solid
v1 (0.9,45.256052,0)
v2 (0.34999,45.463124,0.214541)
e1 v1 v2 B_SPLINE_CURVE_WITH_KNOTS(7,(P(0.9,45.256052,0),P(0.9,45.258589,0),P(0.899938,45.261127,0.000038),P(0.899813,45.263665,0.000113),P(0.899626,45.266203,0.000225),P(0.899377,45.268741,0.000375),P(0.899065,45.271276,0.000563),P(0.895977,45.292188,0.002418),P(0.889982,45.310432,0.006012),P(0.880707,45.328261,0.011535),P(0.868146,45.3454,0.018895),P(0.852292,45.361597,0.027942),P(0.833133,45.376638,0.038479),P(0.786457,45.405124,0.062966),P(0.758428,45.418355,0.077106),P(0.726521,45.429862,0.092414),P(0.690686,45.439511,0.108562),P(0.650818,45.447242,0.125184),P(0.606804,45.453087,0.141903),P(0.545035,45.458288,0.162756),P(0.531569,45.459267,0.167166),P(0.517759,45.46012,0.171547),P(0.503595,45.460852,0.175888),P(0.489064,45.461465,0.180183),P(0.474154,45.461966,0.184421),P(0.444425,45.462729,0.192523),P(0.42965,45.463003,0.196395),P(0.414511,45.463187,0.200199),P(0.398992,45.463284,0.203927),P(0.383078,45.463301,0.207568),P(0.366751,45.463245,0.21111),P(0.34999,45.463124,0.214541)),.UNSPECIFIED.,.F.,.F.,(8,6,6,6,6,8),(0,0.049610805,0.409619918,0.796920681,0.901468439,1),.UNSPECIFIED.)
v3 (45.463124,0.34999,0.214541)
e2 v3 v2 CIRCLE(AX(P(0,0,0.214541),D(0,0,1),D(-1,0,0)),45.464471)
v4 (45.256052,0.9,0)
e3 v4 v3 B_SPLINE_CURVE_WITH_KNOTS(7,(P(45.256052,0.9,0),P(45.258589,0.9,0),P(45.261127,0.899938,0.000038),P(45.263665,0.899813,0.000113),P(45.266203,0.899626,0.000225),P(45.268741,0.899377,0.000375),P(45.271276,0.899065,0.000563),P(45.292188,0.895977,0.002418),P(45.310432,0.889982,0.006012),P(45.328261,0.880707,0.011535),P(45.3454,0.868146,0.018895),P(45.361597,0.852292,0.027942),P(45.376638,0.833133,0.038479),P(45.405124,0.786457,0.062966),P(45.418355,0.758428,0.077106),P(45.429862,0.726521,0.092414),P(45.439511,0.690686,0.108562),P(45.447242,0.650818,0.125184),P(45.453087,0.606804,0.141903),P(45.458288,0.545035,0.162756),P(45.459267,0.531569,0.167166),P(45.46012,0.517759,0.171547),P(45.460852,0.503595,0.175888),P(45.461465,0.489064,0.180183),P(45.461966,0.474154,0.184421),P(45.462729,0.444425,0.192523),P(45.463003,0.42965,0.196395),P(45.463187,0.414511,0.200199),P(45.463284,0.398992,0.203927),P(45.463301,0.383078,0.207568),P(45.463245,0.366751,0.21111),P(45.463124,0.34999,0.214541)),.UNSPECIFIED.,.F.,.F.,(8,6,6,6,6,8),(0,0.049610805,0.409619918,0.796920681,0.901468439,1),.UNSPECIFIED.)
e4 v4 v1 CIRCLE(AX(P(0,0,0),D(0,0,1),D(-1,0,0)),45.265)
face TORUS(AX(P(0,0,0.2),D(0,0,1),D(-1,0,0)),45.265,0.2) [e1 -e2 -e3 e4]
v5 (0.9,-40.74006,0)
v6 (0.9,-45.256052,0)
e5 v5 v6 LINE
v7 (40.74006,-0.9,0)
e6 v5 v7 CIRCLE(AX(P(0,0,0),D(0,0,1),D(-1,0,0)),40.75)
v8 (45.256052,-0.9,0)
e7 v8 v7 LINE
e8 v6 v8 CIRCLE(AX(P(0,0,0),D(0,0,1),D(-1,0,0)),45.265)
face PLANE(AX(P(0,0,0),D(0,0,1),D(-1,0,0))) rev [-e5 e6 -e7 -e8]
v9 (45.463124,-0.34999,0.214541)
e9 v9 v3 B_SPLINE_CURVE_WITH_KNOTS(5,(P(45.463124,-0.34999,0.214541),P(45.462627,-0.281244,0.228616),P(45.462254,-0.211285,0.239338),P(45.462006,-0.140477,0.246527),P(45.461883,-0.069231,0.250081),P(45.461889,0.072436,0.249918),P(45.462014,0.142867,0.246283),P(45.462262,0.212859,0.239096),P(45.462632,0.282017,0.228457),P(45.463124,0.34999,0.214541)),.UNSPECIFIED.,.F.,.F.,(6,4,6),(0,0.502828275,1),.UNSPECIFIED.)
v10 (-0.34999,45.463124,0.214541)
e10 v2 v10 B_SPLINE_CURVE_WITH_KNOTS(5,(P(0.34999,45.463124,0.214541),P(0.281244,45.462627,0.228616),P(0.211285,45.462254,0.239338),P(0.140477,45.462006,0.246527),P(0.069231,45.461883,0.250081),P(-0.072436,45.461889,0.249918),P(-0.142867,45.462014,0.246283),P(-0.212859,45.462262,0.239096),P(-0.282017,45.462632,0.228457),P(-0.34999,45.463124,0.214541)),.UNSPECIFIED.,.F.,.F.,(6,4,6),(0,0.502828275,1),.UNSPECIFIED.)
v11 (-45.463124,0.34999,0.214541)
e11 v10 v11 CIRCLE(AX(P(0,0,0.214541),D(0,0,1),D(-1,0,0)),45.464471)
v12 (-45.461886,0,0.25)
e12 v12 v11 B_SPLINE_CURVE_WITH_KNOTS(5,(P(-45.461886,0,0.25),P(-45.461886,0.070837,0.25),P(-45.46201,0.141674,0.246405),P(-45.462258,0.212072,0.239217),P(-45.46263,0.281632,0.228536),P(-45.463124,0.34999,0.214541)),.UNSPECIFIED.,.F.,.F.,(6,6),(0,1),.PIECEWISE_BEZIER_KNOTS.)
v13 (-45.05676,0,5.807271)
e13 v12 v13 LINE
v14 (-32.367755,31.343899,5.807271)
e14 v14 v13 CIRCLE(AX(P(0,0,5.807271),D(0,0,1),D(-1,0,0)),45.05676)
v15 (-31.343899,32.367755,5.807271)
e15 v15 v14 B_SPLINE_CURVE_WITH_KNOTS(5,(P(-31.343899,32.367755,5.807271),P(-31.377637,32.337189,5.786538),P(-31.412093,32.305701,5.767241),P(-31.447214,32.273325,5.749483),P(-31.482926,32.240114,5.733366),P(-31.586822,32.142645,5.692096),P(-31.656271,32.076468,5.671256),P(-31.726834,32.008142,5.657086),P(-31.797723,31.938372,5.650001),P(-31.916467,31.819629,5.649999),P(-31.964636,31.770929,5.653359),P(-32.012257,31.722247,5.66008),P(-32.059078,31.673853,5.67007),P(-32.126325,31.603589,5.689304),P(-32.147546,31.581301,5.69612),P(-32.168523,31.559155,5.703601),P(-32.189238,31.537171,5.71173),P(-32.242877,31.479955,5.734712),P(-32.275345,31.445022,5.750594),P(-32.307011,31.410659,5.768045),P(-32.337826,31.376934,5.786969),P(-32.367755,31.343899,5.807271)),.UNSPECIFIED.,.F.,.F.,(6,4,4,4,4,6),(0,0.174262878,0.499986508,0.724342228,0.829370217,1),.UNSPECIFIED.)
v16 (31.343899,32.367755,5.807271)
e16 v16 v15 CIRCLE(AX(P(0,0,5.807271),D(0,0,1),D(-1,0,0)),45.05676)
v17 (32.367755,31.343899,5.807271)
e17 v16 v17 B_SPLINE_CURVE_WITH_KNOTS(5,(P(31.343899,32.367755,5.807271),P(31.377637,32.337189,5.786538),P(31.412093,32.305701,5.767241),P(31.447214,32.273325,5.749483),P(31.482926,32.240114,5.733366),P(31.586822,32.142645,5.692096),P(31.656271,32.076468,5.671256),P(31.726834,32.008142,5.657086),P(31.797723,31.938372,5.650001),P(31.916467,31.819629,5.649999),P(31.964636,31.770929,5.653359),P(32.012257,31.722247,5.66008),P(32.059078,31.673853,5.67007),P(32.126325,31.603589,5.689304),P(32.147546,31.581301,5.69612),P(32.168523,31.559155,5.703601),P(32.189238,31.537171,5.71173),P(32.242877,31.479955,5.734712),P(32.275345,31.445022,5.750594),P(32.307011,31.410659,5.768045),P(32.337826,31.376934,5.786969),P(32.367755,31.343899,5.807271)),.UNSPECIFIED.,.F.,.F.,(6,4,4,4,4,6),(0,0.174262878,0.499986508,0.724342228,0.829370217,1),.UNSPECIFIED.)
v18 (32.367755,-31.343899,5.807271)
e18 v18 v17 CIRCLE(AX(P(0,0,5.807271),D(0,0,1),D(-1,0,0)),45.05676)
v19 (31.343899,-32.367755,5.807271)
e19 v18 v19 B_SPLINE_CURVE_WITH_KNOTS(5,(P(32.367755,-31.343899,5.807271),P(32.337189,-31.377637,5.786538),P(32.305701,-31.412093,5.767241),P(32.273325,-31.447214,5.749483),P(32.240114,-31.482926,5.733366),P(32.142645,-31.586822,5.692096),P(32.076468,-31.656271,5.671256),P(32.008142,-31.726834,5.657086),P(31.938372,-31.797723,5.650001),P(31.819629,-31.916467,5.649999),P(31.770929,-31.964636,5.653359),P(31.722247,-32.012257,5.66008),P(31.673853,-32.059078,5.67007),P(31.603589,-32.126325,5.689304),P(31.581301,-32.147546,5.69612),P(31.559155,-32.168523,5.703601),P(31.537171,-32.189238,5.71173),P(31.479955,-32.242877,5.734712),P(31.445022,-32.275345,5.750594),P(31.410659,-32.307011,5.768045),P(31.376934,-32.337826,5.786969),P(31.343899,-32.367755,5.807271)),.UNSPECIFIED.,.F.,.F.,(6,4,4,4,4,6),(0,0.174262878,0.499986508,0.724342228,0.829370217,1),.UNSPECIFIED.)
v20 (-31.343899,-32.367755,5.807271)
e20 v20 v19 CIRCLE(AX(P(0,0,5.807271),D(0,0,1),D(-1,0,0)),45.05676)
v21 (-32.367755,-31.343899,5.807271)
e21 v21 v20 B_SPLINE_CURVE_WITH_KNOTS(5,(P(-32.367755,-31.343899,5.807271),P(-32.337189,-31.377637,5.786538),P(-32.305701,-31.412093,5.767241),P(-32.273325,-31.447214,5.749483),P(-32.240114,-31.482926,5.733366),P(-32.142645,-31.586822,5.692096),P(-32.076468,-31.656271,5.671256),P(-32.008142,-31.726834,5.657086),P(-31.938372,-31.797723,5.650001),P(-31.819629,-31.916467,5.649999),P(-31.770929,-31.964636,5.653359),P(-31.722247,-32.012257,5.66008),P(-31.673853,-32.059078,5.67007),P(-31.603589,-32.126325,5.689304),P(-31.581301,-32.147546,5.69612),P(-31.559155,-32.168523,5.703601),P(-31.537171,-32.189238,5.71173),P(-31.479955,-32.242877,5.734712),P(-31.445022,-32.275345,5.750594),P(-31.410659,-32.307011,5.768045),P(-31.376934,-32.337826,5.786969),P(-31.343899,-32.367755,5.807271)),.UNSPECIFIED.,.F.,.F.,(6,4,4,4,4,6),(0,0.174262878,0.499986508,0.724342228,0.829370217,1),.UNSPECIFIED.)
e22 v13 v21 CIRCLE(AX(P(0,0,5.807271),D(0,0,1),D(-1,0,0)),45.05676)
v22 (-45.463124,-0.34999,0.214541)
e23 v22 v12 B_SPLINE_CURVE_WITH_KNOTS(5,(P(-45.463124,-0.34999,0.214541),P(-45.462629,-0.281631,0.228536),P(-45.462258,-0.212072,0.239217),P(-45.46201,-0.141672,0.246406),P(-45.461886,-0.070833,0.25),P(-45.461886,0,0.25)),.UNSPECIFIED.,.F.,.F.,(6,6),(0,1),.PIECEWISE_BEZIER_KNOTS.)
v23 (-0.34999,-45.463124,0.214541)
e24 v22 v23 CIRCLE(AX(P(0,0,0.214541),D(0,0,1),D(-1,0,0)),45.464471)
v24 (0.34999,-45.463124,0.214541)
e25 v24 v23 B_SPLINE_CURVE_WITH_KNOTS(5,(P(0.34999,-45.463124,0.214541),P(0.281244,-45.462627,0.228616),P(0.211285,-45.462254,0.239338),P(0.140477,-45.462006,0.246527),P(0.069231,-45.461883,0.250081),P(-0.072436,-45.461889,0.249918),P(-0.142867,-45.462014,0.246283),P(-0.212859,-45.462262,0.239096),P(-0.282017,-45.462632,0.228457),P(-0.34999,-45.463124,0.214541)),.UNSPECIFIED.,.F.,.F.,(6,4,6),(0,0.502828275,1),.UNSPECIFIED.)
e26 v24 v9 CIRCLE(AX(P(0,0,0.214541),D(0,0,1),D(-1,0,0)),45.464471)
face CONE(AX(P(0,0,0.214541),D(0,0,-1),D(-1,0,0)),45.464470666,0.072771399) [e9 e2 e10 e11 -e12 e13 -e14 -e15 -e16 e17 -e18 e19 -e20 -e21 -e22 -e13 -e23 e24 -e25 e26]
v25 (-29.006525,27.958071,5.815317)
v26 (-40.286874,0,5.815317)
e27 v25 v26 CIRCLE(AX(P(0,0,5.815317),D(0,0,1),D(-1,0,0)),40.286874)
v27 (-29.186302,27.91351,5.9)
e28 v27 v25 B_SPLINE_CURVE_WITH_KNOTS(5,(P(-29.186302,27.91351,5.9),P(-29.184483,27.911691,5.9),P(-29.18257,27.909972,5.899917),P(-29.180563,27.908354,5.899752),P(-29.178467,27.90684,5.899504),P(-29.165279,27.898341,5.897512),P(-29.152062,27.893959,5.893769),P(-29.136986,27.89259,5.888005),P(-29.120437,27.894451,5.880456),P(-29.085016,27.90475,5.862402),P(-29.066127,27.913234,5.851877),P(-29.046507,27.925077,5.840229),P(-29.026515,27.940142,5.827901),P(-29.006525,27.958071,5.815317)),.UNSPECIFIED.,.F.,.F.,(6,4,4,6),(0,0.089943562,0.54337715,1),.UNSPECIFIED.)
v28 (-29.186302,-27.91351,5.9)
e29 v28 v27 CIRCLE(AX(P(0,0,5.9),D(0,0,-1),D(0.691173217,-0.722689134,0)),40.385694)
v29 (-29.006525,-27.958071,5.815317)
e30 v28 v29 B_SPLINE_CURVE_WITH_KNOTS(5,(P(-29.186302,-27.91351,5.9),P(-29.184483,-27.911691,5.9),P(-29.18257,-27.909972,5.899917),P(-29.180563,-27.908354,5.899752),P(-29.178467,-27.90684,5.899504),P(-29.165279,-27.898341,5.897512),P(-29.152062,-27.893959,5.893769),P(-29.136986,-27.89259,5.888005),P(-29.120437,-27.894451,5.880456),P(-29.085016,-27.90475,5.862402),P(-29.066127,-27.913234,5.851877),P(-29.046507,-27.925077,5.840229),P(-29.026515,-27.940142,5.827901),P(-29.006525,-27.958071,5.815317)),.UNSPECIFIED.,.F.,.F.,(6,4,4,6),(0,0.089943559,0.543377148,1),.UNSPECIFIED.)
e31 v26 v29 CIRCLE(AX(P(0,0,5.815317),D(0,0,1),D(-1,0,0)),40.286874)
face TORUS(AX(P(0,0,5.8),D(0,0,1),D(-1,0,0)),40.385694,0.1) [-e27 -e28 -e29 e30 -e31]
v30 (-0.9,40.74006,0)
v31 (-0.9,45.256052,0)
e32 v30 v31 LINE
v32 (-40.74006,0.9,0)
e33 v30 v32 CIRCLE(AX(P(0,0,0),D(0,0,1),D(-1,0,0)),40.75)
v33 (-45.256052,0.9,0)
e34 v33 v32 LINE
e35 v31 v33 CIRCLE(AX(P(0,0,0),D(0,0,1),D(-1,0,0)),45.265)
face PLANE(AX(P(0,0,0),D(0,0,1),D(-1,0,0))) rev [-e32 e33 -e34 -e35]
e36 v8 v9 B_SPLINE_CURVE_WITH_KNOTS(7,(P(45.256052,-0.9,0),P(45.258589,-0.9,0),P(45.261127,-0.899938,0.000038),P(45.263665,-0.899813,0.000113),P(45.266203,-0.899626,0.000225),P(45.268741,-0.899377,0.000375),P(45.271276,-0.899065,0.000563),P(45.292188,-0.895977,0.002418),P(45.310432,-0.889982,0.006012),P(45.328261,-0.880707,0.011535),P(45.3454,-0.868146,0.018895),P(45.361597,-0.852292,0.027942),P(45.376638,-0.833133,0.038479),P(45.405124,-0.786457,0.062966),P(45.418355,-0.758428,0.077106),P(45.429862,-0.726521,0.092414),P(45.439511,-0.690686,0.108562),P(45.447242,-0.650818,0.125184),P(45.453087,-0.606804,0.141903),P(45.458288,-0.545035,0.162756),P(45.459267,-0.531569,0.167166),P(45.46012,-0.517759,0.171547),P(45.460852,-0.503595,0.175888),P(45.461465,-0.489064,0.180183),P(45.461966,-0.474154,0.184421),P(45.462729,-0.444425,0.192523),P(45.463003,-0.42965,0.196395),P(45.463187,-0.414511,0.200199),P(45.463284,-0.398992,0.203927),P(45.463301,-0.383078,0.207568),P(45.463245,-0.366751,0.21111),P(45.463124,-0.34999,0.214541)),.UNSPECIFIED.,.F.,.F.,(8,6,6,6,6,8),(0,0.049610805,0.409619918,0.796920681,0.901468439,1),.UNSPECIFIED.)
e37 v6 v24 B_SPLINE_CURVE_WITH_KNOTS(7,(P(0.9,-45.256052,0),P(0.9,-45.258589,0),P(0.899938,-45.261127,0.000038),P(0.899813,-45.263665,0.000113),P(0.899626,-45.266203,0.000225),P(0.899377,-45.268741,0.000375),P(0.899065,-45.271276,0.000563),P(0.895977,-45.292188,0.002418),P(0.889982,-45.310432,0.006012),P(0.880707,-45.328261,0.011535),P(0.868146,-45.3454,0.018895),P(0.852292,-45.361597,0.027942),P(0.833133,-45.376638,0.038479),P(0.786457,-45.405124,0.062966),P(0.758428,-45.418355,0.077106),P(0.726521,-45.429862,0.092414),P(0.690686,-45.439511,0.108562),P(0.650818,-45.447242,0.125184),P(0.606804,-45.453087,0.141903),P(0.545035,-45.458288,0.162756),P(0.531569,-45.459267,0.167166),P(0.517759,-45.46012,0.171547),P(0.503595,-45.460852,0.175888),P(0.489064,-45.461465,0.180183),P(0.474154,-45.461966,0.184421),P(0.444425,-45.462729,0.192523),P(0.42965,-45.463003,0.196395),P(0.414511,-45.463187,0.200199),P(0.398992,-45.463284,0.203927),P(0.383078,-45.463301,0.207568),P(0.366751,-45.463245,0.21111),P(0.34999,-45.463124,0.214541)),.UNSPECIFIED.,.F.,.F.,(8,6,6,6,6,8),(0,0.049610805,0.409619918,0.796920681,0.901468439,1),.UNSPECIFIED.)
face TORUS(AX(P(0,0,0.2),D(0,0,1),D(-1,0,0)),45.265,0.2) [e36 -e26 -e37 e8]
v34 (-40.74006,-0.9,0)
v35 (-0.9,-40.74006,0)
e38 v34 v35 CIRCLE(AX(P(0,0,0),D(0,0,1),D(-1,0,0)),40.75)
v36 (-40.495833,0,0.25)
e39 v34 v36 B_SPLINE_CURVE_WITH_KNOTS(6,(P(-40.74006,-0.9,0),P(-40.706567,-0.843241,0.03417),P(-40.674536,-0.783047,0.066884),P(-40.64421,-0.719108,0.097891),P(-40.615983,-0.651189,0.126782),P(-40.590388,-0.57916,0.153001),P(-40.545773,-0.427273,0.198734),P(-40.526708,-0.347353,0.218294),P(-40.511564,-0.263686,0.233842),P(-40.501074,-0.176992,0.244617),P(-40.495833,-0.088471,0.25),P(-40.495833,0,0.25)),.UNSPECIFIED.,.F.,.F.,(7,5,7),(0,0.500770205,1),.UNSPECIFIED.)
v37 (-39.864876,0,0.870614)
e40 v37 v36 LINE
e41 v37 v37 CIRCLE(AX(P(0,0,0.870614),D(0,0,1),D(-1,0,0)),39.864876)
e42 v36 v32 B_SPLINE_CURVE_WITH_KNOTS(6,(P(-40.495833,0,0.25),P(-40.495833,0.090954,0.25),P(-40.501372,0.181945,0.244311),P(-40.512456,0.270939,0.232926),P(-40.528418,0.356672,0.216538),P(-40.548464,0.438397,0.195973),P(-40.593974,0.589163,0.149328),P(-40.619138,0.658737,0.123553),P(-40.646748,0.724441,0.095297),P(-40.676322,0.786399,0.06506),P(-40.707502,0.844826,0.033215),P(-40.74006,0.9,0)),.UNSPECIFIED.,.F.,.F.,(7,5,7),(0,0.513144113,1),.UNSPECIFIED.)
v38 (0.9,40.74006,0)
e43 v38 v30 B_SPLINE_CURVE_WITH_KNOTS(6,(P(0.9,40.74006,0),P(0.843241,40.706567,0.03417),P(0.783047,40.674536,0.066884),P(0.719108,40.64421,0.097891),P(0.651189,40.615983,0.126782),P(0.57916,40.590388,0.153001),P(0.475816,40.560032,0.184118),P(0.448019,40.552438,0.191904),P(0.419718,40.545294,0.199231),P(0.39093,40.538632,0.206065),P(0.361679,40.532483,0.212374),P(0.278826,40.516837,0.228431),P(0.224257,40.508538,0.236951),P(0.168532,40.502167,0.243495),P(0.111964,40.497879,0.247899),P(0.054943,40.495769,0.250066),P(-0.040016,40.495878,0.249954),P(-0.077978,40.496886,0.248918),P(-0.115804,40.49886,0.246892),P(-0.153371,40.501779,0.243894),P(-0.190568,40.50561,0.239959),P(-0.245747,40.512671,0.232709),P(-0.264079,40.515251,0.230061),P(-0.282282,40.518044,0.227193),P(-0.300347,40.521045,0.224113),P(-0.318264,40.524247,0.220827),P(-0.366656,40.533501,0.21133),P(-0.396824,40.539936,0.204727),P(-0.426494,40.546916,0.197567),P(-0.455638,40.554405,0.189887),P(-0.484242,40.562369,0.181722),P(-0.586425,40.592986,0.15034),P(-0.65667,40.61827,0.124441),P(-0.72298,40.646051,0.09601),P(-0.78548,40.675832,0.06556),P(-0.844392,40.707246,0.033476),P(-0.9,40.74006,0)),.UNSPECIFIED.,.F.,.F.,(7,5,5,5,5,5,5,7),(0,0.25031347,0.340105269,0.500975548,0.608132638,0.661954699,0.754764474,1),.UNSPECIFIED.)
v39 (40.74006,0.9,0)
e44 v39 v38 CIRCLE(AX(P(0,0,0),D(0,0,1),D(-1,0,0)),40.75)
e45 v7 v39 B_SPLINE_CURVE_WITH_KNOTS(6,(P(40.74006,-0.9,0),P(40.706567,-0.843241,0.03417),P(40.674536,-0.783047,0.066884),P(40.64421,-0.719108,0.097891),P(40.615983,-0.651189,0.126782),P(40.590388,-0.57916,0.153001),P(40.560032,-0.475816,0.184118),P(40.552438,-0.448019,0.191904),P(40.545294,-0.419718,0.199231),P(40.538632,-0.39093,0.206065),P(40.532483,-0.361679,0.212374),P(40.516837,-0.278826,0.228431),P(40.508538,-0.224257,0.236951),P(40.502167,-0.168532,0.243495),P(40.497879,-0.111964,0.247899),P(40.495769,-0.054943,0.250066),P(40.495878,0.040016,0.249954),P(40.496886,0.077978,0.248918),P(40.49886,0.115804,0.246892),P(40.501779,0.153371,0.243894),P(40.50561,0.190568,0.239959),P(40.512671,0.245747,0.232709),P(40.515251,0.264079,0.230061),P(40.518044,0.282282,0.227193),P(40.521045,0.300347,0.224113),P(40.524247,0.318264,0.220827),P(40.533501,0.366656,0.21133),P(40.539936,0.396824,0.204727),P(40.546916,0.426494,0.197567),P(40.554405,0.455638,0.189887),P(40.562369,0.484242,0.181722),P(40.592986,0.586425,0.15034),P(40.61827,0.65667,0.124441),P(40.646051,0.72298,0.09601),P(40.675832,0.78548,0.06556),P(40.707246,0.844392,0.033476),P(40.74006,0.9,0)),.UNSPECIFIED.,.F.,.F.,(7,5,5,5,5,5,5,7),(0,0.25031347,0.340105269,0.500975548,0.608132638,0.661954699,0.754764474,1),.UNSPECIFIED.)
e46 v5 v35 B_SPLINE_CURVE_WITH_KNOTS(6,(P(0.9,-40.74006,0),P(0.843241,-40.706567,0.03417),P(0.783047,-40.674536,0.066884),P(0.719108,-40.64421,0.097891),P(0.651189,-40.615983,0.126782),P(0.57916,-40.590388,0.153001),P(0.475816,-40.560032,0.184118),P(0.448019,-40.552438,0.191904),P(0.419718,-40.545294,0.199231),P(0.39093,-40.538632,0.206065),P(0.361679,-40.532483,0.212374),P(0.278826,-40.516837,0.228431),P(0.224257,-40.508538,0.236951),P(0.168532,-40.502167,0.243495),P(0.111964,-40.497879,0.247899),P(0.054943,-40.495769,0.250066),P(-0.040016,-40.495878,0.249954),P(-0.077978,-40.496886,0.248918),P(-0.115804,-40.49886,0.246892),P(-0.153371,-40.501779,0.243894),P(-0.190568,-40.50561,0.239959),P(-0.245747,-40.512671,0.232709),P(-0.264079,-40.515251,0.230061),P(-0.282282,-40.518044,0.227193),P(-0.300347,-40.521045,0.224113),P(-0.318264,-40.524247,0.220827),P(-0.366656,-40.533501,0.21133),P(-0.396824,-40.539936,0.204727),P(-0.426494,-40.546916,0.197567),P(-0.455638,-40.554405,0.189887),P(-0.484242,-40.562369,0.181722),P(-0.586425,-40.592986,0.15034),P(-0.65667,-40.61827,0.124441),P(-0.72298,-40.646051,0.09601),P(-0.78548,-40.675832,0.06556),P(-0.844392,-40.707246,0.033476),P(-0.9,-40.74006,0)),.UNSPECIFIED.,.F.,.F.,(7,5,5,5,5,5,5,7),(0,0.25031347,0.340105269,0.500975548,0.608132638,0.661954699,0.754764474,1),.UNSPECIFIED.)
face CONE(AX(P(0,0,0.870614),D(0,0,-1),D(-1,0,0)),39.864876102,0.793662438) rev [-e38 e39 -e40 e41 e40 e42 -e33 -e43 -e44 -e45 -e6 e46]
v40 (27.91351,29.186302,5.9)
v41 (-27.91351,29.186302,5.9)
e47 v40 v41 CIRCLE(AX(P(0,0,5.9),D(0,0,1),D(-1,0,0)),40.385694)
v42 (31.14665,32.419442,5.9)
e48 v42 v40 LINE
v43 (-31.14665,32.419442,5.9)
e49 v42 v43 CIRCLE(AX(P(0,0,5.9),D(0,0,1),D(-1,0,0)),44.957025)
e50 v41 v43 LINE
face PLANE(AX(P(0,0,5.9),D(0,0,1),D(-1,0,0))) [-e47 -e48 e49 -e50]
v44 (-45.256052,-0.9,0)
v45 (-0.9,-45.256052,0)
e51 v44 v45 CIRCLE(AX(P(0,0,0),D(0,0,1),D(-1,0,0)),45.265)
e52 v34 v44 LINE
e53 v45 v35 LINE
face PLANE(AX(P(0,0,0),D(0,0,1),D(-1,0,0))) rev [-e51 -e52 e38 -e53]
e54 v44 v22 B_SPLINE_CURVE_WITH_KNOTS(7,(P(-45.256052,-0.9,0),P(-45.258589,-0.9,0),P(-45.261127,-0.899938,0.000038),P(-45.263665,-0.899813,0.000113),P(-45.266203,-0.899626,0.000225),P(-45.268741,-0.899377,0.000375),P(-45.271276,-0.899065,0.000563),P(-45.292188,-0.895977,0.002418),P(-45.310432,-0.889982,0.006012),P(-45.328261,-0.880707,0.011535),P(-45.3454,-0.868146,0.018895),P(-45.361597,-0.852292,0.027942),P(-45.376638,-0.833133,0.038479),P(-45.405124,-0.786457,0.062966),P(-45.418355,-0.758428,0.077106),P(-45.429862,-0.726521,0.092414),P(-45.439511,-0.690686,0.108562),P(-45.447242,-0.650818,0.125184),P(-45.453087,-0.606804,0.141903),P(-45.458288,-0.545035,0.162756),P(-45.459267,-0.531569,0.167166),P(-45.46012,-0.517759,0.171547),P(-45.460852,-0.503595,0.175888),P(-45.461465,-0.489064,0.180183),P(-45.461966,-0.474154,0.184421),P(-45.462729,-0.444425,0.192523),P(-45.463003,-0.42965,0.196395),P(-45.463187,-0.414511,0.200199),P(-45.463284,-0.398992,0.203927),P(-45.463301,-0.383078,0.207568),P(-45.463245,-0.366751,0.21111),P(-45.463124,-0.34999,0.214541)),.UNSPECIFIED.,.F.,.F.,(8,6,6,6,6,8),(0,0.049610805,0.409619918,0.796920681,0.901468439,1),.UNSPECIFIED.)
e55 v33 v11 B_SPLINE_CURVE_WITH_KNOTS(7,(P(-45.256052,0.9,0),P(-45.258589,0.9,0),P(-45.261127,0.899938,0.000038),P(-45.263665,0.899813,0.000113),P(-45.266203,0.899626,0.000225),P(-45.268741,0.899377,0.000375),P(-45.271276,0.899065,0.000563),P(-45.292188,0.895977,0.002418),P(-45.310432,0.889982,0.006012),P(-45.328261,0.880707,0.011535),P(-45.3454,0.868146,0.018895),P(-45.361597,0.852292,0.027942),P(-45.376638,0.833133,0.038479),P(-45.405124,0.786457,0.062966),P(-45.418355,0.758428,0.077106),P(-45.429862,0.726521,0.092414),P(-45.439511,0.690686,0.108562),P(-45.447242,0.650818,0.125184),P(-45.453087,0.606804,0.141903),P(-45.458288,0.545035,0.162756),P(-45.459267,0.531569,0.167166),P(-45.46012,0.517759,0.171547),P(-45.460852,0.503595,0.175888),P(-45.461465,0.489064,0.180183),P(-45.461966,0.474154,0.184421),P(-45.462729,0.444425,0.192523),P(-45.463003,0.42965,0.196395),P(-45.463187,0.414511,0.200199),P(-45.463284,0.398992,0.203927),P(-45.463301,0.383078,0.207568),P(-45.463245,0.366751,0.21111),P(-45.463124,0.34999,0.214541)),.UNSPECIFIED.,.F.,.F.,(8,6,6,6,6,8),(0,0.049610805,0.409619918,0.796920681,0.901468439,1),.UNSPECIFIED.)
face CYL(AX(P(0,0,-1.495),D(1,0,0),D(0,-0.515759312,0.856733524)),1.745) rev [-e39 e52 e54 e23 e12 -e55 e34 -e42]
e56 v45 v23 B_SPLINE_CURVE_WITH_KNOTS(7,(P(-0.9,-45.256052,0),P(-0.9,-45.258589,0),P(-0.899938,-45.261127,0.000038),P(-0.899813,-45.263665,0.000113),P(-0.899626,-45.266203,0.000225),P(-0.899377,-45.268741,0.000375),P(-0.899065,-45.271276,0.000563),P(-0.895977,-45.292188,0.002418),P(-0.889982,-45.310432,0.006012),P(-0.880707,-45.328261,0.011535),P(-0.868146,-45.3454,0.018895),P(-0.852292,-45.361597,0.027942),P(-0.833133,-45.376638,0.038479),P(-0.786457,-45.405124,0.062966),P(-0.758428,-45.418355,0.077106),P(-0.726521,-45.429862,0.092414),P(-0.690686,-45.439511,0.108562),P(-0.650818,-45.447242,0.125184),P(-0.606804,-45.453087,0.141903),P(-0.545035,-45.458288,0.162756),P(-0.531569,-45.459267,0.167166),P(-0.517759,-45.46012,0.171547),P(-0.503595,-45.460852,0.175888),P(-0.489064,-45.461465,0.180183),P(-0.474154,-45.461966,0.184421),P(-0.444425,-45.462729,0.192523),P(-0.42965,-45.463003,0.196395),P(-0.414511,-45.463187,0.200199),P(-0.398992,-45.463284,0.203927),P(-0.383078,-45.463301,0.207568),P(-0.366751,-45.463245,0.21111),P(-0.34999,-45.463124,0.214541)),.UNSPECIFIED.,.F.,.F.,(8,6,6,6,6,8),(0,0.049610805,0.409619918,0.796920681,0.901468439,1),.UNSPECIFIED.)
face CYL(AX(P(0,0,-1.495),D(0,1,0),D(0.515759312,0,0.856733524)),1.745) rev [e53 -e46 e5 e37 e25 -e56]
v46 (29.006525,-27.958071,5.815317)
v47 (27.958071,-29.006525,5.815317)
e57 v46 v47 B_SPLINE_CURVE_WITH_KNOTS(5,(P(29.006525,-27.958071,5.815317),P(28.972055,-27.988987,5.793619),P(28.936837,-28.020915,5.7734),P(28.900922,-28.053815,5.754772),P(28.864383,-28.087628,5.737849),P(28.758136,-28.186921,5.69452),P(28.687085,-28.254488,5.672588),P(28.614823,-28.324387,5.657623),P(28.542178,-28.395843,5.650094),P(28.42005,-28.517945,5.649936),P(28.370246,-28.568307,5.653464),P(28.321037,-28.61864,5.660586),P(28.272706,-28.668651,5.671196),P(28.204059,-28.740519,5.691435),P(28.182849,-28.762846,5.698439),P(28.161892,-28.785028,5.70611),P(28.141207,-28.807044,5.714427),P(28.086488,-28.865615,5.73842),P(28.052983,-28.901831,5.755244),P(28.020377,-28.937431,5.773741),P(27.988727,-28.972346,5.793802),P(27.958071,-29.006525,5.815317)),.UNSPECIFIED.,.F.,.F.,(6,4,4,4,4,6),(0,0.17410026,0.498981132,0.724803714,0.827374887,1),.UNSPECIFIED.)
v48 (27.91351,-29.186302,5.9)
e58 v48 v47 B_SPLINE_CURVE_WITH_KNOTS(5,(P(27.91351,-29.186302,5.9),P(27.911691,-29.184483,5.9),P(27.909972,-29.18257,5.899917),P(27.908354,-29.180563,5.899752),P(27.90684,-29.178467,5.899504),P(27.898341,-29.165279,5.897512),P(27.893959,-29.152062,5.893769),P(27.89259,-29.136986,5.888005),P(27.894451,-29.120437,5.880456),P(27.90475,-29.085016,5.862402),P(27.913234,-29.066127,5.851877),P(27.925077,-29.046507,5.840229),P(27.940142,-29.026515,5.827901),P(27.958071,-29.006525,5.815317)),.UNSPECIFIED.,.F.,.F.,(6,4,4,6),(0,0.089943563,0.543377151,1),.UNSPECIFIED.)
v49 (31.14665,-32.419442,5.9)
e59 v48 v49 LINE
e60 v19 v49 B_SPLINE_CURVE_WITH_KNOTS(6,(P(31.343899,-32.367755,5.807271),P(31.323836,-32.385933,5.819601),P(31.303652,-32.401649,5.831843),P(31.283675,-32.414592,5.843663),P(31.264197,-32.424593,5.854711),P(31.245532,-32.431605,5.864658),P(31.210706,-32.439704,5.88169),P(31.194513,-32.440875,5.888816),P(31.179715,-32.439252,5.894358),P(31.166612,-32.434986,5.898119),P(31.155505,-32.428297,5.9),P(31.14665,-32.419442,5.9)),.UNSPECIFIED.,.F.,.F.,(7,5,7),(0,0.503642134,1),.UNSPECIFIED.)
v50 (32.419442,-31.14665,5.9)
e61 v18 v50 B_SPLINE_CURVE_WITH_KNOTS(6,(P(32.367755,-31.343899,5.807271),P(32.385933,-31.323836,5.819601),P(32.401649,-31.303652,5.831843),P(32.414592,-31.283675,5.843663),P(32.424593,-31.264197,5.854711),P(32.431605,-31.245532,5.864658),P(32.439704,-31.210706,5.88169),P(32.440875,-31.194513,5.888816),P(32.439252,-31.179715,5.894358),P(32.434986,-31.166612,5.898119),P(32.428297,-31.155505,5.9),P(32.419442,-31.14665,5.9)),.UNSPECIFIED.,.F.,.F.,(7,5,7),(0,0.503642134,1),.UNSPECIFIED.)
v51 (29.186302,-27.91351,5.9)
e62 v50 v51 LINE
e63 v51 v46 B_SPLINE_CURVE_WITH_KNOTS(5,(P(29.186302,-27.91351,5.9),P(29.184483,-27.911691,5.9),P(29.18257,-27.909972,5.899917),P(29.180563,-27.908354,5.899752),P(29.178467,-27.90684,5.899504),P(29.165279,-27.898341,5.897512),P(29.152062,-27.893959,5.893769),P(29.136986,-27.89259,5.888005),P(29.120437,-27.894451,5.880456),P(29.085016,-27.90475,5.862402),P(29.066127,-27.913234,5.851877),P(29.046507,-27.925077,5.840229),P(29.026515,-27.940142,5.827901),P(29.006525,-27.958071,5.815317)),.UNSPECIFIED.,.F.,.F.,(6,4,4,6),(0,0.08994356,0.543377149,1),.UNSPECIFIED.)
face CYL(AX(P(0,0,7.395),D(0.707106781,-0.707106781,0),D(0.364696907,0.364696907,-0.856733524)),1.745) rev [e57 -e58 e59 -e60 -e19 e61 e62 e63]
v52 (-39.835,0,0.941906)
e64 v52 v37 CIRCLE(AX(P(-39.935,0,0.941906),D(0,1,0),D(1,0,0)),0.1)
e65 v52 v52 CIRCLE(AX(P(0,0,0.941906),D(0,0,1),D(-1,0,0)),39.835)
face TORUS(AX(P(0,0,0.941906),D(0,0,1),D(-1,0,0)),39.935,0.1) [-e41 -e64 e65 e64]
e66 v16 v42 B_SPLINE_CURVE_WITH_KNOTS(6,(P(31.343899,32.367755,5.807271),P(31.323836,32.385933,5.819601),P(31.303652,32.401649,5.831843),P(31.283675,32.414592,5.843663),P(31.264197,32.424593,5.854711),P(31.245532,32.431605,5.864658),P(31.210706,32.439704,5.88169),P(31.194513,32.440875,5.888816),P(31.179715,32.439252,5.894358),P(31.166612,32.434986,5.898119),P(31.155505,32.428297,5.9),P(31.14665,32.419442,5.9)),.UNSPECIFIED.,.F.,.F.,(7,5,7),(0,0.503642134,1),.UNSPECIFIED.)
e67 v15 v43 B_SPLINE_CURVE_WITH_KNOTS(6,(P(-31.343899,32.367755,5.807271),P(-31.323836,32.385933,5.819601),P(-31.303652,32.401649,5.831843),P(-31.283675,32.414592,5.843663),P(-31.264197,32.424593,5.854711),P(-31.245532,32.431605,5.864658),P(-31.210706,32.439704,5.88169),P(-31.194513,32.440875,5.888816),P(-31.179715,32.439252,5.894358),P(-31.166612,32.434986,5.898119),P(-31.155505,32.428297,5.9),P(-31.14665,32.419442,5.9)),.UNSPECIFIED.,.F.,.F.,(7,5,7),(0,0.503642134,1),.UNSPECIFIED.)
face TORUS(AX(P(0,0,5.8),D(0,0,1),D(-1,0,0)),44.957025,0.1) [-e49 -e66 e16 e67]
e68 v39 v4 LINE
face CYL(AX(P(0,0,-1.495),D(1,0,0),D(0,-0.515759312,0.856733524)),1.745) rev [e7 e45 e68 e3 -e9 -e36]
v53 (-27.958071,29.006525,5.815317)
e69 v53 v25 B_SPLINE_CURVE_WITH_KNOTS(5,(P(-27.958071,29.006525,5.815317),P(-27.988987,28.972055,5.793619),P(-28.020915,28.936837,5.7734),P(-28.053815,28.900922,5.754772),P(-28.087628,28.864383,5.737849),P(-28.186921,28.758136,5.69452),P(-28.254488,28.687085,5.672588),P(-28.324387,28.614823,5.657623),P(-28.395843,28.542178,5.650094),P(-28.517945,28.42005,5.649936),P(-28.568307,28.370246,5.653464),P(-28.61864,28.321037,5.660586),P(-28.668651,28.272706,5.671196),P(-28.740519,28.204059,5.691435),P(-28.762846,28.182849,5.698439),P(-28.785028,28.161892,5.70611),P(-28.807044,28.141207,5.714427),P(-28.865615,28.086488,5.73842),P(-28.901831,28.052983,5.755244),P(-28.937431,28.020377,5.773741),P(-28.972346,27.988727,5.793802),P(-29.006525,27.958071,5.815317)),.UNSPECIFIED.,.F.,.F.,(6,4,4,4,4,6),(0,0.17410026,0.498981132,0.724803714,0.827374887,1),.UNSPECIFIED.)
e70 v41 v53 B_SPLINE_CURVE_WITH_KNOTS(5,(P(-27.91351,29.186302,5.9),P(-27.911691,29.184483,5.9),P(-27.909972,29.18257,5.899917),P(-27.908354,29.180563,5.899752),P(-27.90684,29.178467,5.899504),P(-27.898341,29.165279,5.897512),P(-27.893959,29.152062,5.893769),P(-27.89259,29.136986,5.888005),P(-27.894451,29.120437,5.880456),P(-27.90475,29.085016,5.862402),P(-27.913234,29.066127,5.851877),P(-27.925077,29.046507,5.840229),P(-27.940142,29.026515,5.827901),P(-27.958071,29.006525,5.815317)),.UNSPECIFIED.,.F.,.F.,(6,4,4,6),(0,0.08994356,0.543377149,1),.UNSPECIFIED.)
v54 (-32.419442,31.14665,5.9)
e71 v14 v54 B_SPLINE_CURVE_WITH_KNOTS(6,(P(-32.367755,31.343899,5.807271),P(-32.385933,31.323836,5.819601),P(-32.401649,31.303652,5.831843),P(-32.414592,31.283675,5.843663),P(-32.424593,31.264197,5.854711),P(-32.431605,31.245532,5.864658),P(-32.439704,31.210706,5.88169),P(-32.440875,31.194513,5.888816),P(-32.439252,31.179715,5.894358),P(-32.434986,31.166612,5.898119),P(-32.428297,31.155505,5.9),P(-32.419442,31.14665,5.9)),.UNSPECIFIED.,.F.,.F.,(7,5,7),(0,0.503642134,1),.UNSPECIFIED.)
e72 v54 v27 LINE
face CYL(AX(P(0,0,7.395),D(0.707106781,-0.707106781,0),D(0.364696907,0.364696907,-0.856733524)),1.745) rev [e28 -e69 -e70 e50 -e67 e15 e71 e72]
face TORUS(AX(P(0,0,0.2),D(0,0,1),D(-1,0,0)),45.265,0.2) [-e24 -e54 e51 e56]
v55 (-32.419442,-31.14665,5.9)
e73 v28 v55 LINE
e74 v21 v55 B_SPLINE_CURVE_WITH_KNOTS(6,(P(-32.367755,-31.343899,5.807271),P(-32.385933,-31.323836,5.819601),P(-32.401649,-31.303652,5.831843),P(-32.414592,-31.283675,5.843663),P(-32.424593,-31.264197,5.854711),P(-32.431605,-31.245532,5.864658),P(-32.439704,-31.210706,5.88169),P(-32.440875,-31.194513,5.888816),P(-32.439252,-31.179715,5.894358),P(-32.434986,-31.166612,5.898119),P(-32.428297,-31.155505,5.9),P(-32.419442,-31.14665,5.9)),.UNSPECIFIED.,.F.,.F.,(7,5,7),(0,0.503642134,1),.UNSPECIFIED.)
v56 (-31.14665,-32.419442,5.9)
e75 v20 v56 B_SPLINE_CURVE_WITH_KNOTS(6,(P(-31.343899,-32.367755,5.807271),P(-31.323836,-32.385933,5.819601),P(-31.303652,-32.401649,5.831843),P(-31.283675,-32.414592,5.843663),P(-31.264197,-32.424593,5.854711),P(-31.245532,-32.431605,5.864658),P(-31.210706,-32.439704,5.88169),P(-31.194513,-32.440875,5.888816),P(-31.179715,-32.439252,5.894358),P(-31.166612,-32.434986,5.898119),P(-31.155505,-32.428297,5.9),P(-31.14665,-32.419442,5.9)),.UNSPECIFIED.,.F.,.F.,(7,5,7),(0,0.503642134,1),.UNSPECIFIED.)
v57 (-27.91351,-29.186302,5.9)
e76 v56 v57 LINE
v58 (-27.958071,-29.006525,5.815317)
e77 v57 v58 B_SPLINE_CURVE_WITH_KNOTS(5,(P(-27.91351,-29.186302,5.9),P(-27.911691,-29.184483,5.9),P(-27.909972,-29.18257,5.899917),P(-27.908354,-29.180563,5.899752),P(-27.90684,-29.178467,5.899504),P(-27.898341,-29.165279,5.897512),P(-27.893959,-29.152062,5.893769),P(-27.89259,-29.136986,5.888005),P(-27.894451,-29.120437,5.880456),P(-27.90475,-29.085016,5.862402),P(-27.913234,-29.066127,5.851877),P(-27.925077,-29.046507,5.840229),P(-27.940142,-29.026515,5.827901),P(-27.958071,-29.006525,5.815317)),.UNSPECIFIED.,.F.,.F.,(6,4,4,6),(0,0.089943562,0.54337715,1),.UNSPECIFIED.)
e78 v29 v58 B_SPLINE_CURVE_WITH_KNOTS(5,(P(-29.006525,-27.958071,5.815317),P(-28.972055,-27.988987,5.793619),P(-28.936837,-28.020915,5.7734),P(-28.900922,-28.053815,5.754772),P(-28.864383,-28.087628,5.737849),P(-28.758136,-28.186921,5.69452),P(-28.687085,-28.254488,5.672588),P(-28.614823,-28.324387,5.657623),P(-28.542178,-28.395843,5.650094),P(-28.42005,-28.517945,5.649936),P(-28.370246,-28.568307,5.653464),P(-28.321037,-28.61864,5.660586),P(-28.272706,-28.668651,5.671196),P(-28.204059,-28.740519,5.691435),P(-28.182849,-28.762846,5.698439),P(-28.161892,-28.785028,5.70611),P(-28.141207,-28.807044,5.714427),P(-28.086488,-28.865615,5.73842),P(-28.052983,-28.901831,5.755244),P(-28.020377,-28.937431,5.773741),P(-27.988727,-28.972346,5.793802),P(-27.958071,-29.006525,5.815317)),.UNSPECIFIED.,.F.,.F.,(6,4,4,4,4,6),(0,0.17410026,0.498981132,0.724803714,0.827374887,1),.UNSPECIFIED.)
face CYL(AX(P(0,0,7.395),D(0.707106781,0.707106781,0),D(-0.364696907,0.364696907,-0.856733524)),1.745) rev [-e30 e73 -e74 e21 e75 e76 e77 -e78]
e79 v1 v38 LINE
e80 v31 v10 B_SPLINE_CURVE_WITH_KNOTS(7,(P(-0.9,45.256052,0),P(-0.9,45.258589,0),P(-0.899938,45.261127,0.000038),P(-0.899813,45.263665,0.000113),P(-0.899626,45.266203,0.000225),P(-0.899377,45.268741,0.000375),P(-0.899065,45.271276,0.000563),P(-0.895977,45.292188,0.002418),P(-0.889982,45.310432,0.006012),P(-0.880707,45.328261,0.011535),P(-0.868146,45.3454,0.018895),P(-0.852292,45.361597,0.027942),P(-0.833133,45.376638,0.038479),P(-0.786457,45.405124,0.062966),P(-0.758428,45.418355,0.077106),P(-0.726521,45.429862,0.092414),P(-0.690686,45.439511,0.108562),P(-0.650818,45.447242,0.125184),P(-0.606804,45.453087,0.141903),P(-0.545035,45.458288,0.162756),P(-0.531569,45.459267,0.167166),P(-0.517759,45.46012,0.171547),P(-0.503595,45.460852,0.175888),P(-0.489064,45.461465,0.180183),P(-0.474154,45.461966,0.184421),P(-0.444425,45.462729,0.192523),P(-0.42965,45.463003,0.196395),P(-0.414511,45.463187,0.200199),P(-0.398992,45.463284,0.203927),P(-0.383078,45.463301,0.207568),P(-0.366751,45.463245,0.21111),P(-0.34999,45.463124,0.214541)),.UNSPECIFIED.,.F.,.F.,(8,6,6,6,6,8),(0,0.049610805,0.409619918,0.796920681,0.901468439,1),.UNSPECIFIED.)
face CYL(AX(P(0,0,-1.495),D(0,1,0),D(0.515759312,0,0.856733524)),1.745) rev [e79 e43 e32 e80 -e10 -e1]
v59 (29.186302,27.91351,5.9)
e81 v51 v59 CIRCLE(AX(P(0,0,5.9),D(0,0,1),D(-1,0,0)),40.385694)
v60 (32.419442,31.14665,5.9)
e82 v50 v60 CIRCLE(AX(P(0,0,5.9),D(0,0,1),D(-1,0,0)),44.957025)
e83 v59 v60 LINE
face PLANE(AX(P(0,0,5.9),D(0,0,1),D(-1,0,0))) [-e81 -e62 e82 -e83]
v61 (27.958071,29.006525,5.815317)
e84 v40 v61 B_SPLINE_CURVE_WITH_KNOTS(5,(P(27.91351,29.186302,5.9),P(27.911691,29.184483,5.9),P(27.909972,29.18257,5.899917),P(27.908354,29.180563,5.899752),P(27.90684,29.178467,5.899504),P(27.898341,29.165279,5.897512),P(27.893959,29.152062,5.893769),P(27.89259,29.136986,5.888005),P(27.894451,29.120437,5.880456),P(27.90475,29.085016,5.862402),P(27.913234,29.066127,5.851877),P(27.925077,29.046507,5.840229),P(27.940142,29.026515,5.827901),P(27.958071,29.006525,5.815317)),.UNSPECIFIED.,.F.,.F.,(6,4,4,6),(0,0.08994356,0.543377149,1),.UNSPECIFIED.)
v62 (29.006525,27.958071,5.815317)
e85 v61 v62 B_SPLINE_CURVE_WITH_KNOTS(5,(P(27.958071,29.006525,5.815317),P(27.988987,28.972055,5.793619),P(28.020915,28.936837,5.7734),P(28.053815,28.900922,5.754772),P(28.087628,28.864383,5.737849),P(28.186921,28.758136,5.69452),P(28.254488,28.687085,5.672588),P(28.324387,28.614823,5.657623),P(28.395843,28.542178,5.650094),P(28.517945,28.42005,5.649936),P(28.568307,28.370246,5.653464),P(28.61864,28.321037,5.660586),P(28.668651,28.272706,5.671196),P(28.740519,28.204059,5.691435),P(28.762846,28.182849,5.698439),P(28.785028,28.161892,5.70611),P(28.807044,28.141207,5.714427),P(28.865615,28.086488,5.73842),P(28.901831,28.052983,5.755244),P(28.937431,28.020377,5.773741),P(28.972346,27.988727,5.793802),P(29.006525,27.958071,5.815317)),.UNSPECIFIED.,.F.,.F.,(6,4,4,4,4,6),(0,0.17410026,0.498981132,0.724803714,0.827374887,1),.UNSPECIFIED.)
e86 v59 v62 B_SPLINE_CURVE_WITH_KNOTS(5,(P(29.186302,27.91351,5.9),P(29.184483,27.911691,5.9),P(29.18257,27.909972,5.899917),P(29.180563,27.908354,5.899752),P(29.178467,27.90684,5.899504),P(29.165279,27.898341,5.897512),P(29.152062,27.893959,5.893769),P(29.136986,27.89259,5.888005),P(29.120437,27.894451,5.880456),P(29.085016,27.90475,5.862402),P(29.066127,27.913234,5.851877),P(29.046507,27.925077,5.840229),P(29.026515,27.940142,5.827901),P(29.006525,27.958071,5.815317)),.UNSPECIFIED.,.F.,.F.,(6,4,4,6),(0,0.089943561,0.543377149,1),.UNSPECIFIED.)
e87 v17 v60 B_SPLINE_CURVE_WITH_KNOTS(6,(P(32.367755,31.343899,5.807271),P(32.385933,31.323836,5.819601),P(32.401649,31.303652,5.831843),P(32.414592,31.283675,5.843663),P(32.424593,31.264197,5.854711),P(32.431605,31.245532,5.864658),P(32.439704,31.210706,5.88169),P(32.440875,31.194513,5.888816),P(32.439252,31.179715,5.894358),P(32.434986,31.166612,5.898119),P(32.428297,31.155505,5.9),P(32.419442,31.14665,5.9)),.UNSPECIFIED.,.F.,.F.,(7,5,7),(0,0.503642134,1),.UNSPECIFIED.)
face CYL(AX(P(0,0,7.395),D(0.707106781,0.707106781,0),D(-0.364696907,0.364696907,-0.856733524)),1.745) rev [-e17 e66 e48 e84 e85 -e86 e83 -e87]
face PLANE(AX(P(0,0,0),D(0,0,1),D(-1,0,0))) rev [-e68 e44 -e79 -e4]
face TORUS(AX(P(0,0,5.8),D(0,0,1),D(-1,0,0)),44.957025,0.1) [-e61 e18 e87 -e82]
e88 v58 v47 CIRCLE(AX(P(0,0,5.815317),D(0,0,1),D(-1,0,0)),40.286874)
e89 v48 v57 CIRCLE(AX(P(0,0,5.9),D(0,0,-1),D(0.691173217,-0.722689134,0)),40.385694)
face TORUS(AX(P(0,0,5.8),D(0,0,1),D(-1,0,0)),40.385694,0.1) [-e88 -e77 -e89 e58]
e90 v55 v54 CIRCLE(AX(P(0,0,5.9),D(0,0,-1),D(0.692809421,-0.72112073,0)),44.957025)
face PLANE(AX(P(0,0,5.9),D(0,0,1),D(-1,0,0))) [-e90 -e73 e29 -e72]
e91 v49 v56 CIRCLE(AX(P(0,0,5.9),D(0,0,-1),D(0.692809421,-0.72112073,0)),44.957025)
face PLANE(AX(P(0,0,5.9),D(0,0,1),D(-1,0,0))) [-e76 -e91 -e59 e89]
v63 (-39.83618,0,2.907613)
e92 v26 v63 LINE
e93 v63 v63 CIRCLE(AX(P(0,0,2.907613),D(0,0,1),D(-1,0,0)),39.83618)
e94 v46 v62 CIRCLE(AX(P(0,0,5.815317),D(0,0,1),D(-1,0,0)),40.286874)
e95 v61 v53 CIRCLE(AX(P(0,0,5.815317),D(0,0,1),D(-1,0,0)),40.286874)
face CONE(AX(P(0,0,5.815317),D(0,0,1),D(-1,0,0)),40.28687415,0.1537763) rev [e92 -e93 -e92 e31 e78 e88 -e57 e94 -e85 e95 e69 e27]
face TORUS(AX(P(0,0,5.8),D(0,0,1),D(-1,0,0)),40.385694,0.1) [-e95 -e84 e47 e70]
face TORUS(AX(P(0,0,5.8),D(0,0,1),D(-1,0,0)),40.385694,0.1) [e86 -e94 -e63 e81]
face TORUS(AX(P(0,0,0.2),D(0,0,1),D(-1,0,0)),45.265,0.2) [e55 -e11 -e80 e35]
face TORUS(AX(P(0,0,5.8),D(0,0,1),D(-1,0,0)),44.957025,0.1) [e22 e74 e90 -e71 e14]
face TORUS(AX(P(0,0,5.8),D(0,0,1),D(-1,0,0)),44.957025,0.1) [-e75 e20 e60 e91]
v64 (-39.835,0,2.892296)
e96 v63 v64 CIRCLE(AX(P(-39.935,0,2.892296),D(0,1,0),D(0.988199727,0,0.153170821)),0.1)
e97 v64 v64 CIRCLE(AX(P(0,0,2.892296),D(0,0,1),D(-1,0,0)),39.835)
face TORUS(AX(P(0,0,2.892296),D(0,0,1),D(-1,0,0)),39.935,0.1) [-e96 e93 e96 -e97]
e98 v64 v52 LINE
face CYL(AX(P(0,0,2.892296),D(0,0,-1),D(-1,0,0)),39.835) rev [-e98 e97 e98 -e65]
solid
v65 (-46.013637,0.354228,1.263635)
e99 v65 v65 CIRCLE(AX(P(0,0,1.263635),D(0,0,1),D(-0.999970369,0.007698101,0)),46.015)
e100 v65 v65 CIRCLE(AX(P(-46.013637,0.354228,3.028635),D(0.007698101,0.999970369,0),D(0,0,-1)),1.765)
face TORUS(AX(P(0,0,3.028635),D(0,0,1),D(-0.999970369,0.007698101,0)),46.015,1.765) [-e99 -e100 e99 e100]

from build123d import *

# Parameters (mm, degrees)
CUT_EXTRUDE1_DEPTH = 65.567348313
CIRPATTERN1_COUNT  = 4
CUT_EXTRUDE2_DEPTH = 65.564880917
CIRPATTERN2_COUNT  = 4
SKETCH4_R          = 1.765


with BuildPart() as part:
    # Sketch1 → Revolve1 (revolve)
    with BuildSketch(Plane(origin=(0, 0, 0), x_dir=(0, 0, -1), z_dir=(1, 0, 0)), mode=Mode.PRIVATE) as revolve1_sk:
        with BuildLine():
            Line((0, 40.75), (0, 45.265))
            ThreePointArc((0, 45.265), (-0.063816828, 45.411472331), (-0.214541437, 45.464470666))
            Line((-0.214541437, 45.464470666), (-5.807270719, 45.056759977))
            ThreePointArc((-5.807270719, 45.056759977), (-5.873236165, 45.025116229), (-5.9, 44.957024644))
            Line((-5.9, 44.957024644), (-5.9, 40.38569412))
            ThreePointArc((-5.9, 40.38569412), (-5.875933226, 40.320623811), (-5.815317095, 40.28687415))
            Line((-5.815317095, 40.28687415), (-2.907613093, 39.836180029))
            ThreePointArc((-2.907613093, 39.836180029), (-2.899977239, 39.835295444), (-2.892295998, 39.835))
            Line((-2.892295998, 39.835), (-0.941906299, 39.835))
            ThreePointArc((-0.941906299, 39.835), (-0.903256524, 39.842770965), (-0.87061367, 39.864876102))
            Line((-0.87061367, 39.864876102), (0, 40.75))
        make_face()
    revolve(revolve1_sk.sketch.rotate(Axis((0, 0, 0), (0, 0, 1)), 90), axis=Axis((0, 0, 0), (0, 0, 1)))

    # Sketch2 → Cut-Extrude1 (cut, symmetric)
    with BuildSketch(Plane(origin=(0, 0, 0), x_dir=(0, 0, -1), z_dir=(1, 0, 0))):
        with BuildLine():
            Line((0, 0.9), (0, -0.9))
            ThreePointArc((0, -0.9), (-0.25, 0), (0, 0.9))
        make_face()
    cut_extrude1 = extrude(amount=CUT_EXTRUDE1_DEPTH, both=True, mode=Mode.SUBTRACT)

    # CirPattern1: Cut-Extrude1 ×4 about axis
    cirpattern1_axis = Axis((0, 0, -19.117405614), (0, 0, 1))
    for i in range(1, CIRPATTERN1_COUNT):
        add(cut_extrude1.rotate(cirpattern1_axis, i * 360 / CIRPATTERN1_COUNT), mode=Mode.SUBTRACT)

    # Sketch3 → Cut-Extrude2 (cut, symmetric)
    with BuildSketch(Plane(origin=(0, 0, 0), x_dir=(0.7071067811865488, 0.7071067811865462, 0), z_dir=(0.7071067811865462, -0.7071067811865488, 0))):
        with BuildLine():
            Line((-0.9, 5.9), (0.9, 5.9))
            ThreePointArc((0.9, 5.9), (0, 5.65), (-0.9, 5.9))
        make_face()
    cut_extrude2 = extrude(amount=CUT_EXTRUDE2_DEPTH, both=True, mode=Mode.SUBTRACT)

    # CirPattern2: Cut-Extrude2 ×4 about axis
    cirpattern2_axis = Axis((0, 0, -19.117405614), (0, 0, 1))
    for i in range(1, CIRPATTERN2_COUNT):
        add(cut_extrude2.rotate(cirpattern2_axis, i * 360 / CIRPATTERN2_COUNT), mode=Mode.SUBTRACT)


with BuildPart() as body_2:
    # Sketch4 → Revolve2 (revolve)
    with BuildSketch(Plane(origin=(0, 0, 0), x_dir=(0, 0, -1), z_dir=(1, 0, 0)), mode=Mode.PRIVATE) as revolve2_sk:
        with Locations((-3.028635359, 46.015)):
            Circle(SKETCH4_R)
    revolve(revolve2_sk.sketch.rotate(Axis((0, 0, 0), (0, 0, 1)), 89.558926923), axis=Axis((0, 0, 0), (0, 0, 1)))


solid = Compound([part.part, body_2.part])
